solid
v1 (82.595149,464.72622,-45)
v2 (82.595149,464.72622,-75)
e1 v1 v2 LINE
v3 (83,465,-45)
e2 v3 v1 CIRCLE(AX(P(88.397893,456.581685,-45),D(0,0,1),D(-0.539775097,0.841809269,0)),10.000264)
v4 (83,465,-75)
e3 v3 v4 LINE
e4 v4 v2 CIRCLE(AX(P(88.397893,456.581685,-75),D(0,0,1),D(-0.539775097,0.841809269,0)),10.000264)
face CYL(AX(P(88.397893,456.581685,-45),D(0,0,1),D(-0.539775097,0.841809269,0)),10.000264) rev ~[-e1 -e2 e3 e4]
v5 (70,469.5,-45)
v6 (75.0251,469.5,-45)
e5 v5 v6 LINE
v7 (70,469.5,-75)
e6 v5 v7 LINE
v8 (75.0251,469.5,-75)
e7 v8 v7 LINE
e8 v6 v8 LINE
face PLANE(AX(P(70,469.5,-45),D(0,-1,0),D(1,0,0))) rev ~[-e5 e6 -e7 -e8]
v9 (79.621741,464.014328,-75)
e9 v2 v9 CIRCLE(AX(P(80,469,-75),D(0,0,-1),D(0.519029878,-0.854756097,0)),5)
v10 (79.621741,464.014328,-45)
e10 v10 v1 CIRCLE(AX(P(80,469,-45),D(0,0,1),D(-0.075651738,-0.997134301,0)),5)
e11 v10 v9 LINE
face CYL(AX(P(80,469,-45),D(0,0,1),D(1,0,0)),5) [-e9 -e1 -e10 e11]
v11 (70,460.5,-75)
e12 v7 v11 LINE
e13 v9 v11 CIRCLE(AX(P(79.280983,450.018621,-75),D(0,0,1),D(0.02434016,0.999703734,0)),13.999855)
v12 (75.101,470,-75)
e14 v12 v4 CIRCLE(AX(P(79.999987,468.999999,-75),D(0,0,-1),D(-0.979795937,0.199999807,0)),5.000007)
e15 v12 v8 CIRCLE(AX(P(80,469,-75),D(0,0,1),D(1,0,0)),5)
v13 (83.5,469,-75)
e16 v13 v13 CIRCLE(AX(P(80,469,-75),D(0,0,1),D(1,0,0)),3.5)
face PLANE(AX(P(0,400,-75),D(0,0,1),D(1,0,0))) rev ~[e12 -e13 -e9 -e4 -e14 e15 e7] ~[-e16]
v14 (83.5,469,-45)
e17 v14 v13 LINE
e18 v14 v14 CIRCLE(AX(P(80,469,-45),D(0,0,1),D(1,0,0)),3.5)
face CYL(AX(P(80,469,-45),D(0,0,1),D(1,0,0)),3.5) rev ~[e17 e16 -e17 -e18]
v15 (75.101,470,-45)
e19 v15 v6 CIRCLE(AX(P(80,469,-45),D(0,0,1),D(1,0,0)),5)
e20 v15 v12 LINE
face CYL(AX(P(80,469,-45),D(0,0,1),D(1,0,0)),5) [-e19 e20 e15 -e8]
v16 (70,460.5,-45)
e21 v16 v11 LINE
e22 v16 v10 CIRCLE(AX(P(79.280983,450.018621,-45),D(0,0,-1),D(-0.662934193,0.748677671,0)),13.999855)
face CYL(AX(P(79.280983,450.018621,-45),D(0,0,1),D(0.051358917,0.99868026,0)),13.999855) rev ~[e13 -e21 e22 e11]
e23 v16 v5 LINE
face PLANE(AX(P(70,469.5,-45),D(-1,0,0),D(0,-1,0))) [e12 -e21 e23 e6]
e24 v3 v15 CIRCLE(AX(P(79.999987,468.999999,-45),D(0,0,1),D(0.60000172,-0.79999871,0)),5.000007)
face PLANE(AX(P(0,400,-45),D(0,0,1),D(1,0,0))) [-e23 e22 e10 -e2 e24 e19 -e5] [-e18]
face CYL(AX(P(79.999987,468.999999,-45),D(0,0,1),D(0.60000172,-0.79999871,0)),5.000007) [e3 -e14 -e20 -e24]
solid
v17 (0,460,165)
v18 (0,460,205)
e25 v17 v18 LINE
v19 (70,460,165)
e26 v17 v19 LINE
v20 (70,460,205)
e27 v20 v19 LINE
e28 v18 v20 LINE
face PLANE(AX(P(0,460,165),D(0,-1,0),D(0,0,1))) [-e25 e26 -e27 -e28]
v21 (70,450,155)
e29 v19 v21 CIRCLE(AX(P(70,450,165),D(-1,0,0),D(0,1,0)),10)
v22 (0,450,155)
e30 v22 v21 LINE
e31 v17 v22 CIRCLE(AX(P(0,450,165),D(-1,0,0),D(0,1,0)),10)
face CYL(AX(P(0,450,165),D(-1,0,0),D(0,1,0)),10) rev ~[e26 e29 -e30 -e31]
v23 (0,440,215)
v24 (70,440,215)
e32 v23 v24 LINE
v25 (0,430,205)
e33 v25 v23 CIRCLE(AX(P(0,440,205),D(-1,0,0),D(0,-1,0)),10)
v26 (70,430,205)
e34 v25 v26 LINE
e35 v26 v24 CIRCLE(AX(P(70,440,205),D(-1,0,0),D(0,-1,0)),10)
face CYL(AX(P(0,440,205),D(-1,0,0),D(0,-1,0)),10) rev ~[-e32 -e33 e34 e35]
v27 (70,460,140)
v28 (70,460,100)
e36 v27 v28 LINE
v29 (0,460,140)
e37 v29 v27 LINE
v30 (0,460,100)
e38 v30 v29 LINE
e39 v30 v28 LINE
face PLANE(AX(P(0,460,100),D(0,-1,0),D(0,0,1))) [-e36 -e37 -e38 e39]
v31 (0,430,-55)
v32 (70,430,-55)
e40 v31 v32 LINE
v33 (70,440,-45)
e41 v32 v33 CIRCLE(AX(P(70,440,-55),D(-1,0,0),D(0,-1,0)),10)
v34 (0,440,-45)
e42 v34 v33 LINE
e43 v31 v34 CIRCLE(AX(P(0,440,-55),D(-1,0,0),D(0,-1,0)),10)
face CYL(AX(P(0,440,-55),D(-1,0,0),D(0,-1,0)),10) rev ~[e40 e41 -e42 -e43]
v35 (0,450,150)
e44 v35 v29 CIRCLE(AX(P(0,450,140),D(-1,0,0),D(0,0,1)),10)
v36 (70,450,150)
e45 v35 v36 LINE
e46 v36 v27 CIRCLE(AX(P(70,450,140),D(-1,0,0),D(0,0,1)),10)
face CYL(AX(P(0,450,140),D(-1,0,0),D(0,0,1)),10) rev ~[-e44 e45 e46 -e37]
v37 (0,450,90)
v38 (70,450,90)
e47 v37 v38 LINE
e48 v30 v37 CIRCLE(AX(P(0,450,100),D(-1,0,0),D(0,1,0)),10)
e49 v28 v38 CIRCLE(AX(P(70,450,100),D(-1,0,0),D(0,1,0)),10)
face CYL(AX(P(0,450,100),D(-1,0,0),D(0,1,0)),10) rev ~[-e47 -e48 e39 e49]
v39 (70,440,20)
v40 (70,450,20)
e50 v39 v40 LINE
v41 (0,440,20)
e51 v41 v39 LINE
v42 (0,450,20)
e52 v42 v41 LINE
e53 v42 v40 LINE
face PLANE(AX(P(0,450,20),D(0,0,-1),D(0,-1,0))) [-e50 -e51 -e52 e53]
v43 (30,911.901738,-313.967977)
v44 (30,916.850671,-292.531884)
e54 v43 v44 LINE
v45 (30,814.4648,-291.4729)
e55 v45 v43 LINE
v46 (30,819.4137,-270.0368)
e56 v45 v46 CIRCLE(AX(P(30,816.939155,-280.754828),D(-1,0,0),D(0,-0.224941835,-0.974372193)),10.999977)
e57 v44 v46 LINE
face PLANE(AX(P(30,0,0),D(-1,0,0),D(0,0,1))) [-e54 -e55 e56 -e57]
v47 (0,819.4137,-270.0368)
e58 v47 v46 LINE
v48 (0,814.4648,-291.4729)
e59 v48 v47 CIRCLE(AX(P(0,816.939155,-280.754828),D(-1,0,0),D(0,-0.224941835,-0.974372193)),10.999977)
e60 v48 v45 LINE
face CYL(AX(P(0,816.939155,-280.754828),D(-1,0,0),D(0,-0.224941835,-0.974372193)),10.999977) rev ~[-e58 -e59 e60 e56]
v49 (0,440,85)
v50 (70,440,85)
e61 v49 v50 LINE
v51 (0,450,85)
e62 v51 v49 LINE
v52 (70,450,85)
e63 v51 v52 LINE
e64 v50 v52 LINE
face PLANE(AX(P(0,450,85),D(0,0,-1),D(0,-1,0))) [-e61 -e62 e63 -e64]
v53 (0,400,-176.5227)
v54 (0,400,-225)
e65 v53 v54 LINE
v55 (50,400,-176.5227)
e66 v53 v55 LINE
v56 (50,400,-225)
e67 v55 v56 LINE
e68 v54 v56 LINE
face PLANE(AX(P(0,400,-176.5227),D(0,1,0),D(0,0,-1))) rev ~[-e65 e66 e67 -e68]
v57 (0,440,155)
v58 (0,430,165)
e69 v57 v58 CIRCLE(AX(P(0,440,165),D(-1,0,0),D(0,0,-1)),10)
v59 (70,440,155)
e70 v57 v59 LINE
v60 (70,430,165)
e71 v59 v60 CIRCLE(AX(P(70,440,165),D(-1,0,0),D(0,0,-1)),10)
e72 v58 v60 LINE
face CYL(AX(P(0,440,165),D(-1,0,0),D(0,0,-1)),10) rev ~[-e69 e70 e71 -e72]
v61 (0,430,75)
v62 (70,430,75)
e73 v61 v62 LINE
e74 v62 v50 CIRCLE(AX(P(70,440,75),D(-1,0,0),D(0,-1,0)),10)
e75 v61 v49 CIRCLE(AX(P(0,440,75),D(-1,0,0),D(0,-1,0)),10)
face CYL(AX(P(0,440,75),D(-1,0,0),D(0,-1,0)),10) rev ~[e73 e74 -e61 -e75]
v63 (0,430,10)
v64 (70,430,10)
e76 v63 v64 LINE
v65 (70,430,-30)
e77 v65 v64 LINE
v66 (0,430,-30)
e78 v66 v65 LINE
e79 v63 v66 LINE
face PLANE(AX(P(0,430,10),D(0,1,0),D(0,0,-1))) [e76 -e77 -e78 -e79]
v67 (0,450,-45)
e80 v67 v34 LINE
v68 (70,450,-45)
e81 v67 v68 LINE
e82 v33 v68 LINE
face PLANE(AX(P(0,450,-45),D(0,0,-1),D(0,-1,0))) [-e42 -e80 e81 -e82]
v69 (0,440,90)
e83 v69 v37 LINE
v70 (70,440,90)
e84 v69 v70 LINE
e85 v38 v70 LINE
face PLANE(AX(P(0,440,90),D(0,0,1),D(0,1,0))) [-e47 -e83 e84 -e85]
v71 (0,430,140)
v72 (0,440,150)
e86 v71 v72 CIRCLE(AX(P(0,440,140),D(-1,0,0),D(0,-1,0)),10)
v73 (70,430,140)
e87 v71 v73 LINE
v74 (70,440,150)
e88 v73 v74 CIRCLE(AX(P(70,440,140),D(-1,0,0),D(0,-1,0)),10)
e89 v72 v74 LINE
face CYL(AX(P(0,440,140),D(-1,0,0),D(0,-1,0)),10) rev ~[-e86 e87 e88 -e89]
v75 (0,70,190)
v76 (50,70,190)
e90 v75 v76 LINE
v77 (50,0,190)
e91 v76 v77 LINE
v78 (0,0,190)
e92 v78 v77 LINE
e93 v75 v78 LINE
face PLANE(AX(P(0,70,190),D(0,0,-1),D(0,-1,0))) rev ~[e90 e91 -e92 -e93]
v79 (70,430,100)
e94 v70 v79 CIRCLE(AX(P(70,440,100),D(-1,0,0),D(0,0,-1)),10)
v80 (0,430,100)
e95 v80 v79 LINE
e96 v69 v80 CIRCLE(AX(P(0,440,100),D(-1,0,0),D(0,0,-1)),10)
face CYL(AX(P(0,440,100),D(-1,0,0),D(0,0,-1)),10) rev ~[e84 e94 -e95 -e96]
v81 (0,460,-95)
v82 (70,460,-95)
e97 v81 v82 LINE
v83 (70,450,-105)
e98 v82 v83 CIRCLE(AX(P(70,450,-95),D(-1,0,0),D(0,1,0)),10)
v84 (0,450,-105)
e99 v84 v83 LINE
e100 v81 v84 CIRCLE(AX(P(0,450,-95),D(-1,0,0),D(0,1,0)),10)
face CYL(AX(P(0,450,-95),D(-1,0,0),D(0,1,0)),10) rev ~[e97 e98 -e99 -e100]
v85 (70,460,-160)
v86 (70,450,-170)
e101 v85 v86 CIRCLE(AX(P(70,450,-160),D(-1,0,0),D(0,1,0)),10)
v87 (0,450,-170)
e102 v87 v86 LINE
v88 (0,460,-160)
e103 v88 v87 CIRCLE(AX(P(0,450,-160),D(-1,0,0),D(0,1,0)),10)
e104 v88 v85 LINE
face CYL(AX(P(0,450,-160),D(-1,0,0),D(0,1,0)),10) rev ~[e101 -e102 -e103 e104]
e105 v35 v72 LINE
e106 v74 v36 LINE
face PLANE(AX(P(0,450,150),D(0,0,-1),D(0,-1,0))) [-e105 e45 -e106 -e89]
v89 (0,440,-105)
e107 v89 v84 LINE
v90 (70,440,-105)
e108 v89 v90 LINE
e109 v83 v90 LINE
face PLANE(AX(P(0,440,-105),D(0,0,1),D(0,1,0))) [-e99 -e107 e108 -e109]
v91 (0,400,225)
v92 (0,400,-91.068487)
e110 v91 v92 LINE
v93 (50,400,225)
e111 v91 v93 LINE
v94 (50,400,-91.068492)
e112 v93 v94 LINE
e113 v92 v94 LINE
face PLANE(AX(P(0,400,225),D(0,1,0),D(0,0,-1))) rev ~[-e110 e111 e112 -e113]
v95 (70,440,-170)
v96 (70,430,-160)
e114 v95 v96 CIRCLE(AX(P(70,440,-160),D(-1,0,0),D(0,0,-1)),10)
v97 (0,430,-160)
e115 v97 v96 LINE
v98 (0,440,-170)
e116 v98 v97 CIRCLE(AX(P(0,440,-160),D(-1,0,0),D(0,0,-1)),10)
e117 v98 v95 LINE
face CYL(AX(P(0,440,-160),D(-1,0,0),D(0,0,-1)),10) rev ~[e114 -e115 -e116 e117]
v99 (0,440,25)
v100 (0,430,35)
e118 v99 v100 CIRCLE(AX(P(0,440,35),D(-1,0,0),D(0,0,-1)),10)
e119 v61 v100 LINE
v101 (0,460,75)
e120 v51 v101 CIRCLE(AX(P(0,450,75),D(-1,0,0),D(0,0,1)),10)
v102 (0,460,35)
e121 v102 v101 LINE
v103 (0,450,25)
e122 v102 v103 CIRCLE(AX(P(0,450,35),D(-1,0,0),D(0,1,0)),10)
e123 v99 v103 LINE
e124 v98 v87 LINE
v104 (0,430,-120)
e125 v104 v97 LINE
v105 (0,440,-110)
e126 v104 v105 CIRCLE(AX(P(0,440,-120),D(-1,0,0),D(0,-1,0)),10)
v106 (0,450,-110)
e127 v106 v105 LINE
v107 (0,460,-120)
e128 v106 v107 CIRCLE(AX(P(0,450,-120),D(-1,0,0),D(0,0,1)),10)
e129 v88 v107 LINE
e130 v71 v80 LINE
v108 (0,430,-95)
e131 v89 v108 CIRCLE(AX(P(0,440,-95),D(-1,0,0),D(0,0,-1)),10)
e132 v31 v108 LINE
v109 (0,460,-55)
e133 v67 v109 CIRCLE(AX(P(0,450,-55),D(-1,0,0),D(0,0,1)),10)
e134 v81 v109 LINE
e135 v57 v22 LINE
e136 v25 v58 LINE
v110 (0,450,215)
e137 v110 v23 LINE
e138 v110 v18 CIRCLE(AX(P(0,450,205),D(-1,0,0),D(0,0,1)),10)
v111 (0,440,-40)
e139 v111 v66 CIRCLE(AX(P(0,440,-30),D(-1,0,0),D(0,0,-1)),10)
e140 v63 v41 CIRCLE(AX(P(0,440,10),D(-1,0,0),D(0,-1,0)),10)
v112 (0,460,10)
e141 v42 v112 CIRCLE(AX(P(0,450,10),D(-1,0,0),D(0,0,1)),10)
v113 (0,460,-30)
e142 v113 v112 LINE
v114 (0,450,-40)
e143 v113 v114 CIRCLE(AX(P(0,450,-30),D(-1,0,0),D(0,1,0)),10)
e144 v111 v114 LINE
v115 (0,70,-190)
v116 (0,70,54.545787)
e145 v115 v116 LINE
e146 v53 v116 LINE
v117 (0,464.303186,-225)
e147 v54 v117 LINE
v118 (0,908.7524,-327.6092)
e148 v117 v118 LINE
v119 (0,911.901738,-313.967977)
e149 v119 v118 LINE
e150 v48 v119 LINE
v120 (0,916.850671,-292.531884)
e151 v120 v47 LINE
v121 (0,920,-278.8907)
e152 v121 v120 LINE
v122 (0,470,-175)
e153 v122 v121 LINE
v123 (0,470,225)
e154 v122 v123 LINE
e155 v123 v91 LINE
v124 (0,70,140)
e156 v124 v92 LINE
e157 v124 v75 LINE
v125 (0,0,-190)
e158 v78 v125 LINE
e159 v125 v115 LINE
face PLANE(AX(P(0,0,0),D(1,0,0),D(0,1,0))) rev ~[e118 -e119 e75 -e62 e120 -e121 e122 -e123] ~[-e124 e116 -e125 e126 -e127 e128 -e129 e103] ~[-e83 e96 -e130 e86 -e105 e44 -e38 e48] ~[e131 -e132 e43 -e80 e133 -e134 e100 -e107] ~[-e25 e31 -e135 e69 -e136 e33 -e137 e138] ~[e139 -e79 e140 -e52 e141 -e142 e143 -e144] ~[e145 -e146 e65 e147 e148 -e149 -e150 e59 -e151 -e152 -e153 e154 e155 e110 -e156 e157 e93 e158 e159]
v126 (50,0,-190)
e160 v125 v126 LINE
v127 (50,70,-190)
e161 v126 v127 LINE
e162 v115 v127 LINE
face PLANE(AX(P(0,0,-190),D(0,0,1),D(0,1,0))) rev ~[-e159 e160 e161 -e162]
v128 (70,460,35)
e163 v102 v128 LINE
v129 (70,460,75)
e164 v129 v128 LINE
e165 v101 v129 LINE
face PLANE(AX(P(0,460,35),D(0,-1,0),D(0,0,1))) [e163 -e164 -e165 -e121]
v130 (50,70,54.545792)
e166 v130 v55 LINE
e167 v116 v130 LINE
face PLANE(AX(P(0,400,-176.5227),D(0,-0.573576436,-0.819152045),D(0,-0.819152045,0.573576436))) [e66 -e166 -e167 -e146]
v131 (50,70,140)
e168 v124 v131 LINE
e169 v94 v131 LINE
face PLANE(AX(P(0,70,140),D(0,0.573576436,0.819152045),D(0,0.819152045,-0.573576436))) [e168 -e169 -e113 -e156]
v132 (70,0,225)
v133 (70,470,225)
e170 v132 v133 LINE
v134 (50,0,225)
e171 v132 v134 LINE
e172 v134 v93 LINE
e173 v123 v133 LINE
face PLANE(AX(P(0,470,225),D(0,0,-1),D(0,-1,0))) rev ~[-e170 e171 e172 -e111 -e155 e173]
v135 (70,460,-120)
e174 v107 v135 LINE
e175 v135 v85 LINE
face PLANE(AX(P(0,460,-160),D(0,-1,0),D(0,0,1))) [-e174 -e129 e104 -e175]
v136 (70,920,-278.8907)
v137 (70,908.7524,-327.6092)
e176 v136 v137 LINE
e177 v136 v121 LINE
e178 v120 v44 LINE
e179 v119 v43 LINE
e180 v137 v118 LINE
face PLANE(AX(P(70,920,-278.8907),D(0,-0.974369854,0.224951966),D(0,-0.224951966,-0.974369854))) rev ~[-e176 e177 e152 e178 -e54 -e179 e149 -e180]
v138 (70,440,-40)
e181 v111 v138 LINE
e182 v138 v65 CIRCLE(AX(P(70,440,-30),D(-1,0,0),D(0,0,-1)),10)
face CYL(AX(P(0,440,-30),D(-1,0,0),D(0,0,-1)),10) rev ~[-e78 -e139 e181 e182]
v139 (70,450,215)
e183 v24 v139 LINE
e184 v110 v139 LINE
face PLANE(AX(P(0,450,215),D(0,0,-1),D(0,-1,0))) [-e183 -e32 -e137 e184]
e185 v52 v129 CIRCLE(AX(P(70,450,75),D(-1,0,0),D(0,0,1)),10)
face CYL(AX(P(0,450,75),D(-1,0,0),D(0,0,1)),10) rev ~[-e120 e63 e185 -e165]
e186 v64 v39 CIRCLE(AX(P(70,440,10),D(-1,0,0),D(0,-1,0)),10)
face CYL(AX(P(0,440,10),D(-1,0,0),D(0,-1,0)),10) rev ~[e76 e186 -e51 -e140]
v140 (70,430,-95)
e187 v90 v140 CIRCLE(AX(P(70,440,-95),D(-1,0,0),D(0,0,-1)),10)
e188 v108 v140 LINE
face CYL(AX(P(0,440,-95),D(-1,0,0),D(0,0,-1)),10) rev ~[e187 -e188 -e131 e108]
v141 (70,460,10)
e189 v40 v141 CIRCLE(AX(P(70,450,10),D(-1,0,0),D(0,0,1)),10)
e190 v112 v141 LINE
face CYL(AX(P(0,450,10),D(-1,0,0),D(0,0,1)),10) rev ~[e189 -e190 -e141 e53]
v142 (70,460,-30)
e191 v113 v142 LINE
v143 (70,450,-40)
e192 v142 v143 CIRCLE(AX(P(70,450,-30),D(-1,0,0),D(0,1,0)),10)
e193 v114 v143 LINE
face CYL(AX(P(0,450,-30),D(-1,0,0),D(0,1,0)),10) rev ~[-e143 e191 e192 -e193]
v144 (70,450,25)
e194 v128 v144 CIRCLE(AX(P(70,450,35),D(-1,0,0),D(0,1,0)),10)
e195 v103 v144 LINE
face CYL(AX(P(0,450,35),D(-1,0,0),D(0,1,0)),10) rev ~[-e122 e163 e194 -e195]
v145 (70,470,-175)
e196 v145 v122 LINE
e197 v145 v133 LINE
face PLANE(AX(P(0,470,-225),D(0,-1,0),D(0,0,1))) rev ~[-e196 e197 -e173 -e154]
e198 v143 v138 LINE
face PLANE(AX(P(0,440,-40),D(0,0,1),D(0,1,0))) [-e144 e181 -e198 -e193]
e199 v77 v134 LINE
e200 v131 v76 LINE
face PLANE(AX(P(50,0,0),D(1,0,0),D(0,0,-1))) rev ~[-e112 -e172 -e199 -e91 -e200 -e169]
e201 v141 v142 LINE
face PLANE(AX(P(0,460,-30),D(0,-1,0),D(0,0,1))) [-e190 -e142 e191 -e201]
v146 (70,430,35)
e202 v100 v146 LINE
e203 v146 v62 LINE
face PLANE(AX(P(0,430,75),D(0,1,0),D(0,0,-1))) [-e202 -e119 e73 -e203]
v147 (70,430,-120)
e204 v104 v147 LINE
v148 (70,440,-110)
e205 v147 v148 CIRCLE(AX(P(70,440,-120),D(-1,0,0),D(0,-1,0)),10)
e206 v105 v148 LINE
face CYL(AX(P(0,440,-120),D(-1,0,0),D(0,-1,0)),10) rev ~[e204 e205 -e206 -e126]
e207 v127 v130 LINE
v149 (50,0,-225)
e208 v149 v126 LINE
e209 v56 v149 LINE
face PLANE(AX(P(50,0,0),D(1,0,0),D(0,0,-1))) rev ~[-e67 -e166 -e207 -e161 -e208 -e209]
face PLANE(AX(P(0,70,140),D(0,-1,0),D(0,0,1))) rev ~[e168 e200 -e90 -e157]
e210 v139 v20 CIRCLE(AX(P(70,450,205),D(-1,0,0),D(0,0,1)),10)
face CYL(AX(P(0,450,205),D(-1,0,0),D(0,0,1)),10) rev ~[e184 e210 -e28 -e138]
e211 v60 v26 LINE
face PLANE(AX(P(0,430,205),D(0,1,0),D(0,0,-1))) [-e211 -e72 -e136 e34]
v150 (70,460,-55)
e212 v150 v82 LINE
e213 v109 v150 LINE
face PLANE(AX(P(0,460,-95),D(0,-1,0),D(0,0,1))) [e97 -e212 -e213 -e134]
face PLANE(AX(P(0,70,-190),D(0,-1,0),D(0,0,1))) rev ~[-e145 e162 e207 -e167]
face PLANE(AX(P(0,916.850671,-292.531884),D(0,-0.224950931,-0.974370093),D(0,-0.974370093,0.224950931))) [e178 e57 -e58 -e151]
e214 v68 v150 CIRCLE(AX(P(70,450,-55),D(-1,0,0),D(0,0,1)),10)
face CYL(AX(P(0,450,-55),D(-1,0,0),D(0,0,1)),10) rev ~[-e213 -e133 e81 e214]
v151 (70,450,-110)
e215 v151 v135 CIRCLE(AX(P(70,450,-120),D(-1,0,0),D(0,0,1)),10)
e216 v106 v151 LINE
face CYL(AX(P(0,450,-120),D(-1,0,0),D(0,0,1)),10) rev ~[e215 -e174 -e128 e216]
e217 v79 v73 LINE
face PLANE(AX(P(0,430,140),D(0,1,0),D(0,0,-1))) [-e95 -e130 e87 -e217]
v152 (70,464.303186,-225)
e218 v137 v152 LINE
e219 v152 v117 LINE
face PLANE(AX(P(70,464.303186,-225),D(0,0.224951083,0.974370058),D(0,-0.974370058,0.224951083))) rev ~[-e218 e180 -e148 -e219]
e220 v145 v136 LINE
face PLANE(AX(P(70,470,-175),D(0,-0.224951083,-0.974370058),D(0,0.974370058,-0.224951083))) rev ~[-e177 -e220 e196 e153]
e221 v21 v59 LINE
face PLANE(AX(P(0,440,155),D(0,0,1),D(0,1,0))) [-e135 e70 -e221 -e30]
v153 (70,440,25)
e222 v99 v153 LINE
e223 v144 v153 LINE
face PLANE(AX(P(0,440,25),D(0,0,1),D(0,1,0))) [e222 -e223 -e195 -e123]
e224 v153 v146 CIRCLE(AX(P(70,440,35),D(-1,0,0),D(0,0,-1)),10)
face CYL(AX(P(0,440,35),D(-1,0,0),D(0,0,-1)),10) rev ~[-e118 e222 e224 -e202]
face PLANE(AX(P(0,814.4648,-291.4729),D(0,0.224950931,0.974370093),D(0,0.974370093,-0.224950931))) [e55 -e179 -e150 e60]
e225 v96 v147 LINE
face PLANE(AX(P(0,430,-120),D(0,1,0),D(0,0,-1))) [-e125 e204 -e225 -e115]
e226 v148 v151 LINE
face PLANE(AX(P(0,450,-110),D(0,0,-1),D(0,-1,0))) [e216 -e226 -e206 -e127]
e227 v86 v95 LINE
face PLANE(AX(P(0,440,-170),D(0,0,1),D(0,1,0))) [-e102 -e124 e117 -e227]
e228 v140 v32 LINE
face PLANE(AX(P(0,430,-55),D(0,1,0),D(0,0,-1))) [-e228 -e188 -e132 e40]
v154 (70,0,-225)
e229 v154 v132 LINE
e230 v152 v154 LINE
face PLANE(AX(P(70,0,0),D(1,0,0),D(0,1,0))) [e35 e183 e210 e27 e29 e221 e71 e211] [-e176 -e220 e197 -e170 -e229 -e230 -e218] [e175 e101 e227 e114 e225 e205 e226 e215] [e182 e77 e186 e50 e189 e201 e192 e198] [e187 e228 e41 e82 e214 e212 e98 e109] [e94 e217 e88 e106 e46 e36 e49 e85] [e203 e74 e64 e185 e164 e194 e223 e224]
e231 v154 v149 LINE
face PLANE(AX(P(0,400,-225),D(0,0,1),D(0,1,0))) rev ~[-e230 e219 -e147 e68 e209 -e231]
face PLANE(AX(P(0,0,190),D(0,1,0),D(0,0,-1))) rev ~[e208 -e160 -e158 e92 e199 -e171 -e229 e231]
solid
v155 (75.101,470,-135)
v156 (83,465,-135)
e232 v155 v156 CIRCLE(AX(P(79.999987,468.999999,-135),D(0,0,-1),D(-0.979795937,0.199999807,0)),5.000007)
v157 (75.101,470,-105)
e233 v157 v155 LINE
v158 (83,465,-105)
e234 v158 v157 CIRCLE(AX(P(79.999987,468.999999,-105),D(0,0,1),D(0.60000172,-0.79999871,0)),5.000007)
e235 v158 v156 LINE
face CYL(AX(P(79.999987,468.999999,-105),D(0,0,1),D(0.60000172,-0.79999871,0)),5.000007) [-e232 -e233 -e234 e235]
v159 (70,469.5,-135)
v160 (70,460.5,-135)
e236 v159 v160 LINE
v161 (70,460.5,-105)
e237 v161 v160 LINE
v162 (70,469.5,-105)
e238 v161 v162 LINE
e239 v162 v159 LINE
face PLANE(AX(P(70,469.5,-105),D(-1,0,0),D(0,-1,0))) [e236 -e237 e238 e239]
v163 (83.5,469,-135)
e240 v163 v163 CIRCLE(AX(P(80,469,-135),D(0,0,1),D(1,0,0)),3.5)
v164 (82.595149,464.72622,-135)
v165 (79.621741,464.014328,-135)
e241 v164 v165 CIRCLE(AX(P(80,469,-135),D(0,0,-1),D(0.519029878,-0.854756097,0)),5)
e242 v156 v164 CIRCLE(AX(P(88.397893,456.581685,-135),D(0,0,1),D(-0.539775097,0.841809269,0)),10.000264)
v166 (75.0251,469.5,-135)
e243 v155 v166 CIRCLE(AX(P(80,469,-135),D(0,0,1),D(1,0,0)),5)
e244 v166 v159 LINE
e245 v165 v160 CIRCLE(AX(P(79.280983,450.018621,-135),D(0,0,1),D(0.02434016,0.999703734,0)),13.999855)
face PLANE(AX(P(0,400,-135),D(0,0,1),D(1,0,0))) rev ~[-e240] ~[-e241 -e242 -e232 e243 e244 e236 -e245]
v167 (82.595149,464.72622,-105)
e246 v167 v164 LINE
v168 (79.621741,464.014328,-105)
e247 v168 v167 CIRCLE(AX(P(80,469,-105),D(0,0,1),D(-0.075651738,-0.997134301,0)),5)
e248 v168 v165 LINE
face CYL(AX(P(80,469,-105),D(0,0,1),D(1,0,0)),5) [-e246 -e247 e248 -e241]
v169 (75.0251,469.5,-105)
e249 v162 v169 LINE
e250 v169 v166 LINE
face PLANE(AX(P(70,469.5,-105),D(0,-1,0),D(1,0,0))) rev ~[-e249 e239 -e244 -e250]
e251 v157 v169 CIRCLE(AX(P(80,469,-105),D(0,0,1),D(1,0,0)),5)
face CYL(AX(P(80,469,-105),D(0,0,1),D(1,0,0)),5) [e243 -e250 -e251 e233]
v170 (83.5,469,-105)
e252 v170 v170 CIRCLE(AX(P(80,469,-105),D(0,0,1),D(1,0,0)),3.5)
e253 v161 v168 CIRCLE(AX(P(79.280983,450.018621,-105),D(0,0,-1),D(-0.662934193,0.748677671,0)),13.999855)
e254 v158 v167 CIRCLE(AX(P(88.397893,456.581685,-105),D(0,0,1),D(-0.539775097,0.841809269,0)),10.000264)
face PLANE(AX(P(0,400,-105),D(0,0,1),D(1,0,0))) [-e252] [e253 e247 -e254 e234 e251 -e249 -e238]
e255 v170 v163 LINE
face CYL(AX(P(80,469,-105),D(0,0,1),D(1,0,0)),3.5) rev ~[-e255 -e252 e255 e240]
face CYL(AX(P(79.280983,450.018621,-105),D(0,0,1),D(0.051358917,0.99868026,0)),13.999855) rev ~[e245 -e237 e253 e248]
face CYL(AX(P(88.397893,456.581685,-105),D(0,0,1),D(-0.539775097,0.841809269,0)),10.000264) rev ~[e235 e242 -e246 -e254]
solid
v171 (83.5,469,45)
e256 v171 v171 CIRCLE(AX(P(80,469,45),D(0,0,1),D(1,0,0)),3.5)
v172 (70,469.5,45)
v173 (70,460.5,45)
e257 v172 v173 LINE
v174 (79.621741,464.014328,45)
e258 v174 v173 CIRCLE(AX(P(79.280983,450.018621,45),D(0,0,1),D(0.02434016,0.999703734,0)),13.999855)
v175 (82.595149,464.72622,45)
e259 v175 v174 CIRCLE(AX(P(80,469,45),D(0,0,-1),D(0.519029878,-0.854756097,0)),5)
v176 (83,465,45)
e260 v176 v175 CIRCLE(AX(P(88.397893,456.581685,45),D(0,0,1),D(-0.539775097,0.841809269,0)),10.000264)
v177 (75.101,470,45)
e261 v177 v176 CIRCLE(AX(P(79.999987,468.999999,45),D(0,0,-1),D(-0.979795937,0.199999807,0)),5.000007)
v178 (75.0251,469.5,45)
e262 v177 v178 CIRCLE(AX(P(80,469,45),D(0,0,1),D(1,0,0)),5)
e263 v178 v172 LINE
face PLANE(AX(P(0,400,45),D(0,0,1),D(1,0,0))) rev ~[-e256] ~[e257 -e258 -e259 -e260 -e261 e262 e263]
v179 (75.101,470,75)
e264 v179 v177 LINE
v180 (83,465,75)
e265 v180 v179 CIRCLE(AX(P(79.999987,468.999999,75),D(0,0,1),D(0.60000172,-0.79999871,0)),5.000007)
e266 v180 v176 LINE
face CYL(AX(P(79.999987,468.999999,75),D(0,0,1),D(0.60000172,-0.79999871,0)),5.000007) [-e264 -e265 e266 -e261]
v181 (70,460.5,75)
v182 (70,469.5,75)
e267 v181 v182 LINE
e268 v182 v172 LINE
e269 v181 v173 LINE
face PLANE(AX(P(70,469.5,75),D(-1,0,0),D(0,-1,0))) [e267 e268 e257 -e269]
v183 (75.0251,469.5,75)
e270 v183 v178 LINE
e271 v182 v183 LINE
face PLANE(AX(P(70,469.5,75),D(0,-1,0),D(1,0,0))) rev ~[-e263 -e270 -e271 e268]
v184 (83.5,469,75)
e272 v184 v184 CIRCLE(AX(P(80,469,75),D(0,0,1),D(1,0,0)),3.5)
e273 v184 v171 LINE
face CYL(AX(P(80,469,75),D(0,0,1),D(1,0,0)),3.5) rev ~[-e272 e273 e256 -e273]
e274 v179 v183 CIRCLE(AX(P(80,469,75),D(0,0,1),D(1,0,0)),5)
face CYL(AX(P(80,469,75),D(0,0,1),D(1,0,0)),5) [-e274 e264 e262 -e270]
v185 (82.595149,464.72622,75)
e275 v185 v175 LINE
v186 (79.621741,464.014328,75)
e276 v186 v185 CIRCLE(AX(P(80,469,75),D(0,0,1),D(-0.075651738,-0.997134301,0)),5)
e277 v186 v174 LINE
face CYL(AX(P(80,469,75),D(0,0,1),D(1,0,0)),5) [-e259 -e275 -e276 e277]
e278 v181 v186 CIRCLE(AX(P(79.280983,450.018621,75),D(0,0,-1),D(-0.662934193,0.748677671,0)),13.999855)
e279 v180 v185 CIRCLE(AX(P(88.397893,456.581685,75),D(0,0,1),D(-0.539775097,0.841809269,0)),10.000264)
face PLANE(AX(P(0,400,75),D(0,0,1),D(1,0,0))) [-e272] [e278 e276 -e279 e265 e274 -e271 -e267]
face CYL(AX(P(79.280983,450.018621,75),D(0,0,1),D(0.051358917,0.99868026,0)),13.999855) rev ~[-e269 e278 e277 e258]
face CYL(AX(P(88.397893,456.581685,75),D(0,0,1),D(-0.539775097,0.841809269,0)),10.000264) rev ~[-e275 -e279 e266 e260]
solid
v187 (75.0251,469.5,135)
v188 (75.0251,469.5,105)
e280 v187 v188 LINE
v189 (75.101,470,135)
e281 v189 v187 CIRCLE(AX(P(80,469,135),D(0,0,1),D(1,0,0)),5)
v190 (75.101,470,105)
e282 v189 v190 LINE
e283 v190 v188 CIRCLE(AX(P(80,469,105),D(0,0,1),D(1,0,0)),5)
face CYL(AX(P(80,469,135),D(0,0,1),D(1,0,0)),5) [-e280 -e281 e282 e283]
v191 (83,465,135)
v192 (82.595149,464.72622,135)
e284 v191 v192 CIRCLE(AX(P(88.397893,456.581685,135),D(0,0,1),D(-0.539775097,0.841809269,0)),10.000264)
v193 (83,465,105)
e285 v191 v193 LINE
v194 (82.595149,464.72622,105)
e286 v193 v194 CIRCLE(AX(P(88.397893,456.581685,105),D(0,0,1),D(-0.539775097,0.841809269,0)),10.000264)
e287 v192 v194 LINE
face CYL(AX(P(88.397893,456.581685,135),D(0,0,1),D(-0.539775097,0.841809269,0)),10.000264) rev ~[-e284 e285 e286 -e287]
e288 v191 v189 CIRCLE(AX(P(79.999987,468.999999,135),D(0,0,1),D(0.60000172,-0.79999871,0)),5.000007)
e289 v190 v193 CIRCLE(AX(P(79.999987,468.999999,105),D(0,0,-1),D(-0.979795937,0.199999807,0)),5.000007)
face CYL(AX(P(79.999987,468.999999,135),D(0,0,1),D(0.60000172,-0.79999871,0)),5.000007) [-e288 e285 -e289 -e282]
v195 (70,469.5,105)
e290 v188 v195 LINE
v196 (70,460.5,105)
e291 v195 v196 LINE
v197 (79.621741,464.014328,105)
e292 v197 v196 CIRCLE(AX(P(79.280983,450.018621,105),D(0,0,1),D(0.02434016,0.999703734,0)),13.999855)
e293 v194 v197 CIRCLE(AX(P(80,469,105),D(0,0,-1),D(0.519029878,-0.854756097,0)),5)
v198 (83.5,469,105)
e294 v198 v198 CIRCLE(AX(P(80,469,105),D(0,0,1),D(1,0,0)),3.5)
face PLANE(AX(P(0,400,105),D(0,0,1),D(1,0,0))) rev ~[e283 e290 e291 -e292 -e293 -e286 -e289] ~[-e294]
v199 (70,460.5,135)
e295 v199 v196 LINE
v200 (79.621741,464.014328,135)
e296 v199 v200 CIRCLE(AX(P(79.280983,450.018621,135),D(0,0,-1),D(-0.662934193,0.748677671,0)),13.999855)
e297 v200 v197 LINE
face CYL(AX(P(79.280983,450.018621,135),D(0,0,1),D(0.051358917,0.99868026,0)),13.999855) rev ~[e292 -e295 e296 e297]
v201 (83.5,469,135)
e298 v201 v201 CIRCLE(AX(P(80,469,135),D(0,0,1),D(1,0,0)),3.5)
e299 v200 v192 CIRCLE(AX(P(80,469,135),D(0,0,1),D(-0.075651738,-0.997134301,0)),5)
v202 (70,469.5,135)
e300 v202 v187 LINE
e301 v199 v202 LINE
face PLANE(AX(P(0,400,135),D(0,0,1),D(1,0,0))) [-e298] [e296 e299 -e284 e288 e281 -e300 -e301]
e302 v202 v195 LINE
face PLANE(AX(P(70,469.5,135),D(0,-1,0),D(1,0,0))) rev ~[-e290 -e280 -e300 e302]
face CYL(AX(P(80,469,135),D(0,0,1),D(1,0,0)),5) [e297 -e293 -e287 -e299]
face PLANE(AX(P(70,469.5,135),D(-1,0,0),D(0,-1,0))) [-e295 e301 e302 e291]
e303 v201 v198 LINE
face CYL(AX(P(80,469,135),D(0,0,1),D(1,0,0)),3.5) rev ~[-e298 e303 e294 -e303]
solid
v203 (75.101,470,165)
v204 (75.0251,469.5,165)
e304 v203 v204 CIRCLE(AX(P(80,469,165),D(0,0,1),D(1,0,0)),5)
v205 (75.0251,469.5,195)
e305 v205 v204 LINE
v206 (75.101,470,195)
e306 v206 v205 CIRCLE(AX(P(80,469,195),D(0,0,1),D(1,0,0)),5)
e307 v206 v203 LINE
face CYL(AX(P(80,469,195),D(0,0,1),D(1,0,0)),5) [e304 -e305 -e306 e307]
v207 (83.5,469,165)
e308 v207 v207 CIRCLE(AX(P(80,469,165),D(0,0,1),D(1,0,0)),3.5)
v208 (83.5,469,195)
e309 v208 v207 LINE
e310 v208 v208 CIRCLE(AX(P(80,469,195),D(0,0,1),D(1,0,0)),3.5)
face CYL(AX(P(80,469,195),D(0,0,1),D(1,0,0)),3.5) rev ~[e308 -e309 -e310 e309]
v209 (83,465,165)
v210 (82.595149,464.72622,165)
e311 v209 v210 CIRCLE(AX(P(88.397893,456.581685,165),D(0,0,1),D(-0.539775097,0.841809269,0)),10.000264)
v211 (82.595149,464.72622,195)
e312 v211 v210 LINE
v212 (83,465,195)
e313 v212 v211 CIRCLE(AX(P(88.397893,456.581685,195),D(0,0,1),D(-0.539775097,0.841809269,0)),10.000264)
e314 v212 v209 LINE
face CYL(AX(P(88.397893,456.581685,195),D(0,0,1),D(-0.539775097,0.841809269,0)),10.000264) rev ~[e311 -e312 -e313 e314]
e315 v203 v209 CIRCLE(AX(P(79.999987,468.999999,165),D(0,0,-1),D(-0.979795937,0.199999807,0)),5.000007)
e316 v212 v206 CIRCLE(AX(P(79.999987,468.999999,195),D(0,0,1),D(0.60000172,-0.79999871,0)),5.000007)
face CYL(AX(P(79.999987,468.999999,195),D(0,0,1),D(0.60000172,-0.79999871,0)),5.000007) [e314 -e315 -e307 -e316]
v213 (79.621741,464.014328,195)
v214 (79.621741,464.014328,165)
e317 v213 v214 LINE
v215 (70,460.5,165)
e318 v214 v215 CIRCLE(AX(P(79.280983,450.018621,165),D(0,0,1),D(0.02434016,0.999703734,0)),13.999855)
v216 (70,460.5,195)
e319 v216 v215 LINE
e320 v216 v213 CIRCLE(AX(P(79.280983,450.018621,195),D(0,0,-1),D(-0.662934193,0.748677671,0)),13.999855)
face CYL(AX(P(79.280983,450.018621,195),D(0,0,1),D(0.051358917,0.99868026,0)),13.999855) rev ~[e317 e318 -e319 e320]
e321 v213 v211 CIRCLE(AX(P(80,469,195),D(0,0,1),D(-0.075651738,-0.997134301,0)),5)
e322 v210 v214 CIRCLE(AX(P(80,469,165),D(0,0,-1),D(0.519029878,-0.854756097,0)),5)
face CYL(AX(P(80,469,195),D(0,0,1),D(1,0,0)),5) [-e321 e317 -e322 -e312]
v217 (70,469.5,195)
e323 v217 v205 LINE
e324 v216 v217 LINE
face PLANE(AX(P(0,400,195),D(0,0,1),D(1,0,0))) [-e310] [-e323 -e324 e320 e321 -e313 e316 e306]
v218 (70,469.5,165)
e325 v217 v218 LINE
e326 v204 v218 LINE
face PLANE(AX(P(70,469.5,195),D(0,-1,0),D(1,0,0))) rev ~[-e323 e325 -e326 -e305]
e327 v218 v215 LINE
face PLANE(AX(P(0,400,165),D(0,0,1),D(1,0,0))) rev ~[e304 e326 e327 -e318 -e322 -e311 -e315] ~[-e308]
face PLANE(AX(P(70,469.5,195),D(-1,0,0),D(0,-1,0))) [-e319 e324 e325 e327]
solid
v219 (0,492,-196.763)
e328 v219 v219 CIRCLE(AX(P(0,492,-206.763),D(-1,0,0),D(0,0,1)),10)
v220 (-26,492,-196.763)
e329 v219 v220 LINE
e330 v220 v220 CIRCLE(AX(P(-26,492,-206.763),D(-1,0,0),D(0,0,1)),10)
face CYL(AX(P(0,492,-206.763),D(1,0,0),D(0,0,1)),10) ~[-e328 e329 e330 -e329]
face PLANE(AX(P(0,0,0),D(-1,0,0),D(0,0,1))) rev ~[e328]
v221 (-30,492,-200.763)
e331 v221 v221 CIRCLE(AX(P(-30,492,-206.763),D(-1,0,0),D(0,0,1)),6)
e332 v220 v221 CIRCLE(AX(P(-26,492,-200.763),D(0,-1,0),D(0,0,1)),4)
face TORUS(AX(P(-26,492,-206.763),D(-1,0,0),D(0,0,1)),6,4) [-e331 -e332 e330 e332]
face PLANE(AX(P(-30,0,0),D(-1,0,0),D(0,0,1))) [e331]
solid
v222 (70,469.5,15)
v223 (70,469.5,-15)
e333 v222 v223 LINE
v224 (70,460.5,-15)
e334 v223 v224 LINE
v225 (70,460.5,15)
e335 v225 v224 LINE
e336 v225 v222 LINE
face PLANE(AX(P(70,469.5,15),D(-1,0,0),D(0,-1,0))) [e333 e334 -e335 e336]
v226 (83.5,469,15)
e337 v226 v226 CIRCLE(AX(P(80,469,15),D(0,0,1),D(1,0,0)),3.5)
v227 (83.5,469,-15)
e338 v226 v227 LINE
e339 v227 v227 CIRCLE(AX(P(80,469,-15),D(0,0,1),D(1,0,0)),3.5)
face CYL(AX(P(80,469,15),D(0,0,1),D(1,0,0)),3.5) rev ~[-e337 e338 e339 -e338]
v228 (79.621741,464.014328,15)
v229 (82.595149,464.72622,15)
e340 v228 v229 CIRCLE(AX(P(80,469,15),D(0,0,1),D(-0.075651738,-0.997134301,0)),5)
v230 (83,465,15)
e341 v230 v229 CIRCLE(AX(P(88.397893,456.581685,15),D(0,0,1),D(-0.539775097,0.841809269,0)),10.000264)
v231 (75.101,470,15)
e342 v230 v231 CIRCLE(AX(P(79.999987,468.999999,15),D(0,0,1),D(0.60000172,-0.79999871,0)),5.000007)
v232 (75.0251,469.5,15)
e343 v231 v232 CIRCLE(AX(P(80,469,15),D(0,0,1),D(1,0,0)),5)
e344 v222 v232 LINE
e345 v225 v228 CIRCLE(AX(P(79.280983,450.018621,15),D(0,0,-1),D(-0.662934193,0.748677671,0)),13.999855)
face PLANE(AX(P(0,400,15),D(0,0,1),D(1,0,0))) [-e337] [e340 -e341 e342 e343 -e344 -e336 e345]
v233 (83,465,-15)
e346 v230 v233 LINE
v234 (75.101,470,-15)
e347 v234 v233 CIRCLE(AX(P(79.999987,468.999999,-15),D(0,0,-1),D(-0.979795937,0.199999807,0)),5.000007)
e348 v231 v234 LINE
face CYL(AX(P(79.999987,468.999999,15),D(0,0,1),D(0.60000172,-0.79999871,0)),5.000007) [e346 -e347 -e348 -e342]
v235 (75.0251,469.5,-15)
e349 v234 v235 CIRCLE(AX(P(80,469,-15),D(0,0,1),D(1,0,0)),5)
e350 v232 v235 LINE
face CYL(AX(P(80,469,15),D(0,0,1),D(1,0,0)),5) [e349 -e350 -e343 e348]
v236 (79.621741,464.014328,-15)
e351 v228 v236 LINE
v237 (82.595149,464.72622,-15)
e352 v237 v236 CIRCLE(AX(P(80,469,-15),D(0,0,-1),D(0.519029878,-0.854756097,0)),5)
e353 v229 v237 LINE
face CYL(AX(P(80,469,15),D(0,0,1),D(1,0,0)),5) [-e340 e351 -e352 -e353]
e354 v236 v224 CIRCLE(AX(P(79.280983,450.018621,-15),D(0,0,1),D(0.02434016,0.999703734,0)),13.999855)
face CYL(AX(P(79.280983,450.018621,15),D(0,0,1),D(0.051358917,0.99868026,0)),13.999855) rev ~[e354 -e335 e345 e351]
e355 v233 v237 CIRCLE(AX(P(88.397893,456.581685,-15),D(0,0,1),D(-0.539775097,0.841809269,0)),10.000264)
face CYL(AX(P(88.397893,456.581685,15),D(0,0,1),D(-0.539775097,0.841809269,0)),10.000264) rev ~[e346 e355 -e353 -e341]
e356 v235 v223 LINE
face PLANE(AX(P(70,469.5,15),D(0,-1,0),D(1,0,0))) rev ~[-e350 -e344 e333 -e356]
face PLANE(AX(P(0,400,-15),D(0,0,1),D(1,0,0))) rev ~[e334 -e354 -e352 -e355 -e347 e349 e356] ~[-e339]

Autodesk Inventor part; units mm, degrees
ref_plane "YZ Plane" through (0, 0, 0) normal (1, 0, 0) x (0, 1, 0)
ref_plane "XZ Plane" through (0, 0, 0) normal (0, 1, 0) x (-1, 0, 0)
ref_plane "XY Plane" through (0, 0, 0) normal (0, 0, 1) x (1, 0, 0)
sketch "Sketch1" plane through (0, 0, 0) normal (1, 0, 0) x (0, 1, 0)
  line L0 (70, 190) -> (0, 190)
  line L1 (0, 190) -> (0, -190)
  line L2 (0, -190) -> (70, -190)
  line L3 (70, -190) -> (70, 190)
  line L4 (29.8496, 82.6594) -> (70, 140)
  line L5 (70, 140) -> (440.1504, -119.1821)
  line L6 (440.1504, -119.1821) -> (400, -176.5227)
  line L7 (400, -176.5227) -> (29.8496, 82.6594)
  line L8 (29.8496, 82.6594) -> (440.1504, -119.1821) construction
  line L9 (70, 140) -> (400, -176.5227) construction
  line L10 (470, 225) -> (400, 225)
  line L11 (400, 225) -> (400, -225)
  line L12 (400, -225) -> (470, -225)
  line L13 (470, -225) -> (470, 225)
  point P0 (0, 0)
  point P1 (35, 190)
  point P2 (435, -225)
  point P3 (400, -91.0685)
  point P4 (70, 54.5458)
  dimension "d0" = 380
  dimension "d1" = 70
  dimension "d2" = 190
  dimension "d3" = 70
  dimension "d4" = 50
  dimension "d5" = 400
  dimension "d6" = 55
  dimension "d7" = -13.4773
  dimension "d8" = 70
  dimension "d9" = 450
  dimension "d10" = 35
  dimension "d11" = 35
extrude "Extrusion1" add sketch "Sketch1" along normal blind 70
sketch "Sketch2" plane through (0, 0, 0) normal (-1, 0, 0) x (0, 0, 1)
  line L0 (165, 460) -> (205, 460)
  line L1 (215, 450) -> (215, 440)
  line L2 (205, 430) -> (165, 430)
  line L3 (155, 440) -> (155, 450)
  line L4 (-225, 470) -> (225, 470) projected
  line L5 (225, 470) -> (225, 400) projected
  arc A0 (165, 460) -> (155, 450) centre (165, 450) ccw
  arc A1 (215, 450) -> (205, 460) centre (205, 450) ccw
  arc A2 (205, 430) -> (215, 440) centre (205, 440) ccw
  arc A3 (155, 440) -> (165, 430) centre (165, 440) ccw
  line L6 (100, 460) -> (140, 460)
  line L7 (150, 450) -> (150, 440)
  line L8 (140, 430) -> (100, 430)
  line L9 (90, 440) -> (90, 450)
  arc A4 (100, 460) -> (90, 450) centre (100, 450) ccw
  arc A5 (150, 450) -> (140, 460) centre (140, 450) ccw
  arc A6 (140, 430) -> (150, 440) centre (140, 440) ccw
  arc A7 (90, 440) -> (100, 430) centre (100, 440) ccw
  line L10 (35, 460) -> (75, 460)
  line L11 (85, 450) -> (85, 440)
  line L12 (75, 430) -> (35, 430)
  line L13 (25, 440) -> (25, 450)
  arc A8 (35, 460) -> (25, 450) centre (35, 450) ccw
  arc A9 (85, 450) -> (75, 460) centre (75, 450) ccw
  arc A10 (75, 430) -> (85, 440) centre (75, 440) ccw
  arc A11 (25, 440) -> (35, 430) centre (35, 440) ccw
  line L14 (-30, 460) -> (10, 460)
  line L15 (20, 450) -> (20, 440)
  line L16 (10, 430) -> (-30, 430)
  line L17 (-40, 440) -> (-40, 450)
  arc A12 (-30, 460) -> (-40, 450) centre (-30, 450) ccw
  arc A13 (20, 450) -> (10, 460) centre (10, 450) ccw
  arc A14 (10, 430) -> (20, 440) centre (10, 440) ccw
  arc A15 (-40, 440) -> (-30, 430) centre (-30, 440) ccw
  line L18 (-95, 460) -> (-55, 460)
  line L19 (-45, 450) -> (-45, 440)
  line L20 (-55, 430) -> (-95, 430)
  line L21 (-105, 440) -> (-105, 450)
  arc A16 (-95, 460) -> (-105, 450) centre (-95, 450) ccw
  arc A17 (-45, 450) -> (-55, 460) centre (-55, 450) ccw
  arc A18 (-55, 430) -> (-45, 440) centre (-55, 440) ccw
  arc A19 (-105, 440) -> (-95, 430) centre (-95, 440) ccw
  line L22 (-160, 460) -> (-120, 460)
  line L23 (-110, 450) -> (-110, 440)
  line L24 (-120, 430) -> (-160, 430)
  line L25 (-170, 440) -> (-170, 450)
  arc A20 (-160, 460) -> (-170, 450) centre (-160, 450) ccw
  arc A21 (-110, 450) -> (-120, 460) centre (-120, 450) ccw
  arc A22 (-120, 430) -> (-110, 440) centre (-120, 440) ccw
  arc A23 (-170, 440) -> (-160, 430) centre (-160, 440) ccw
  point P0 (0, 0)
  dimension "d14" = 60
  dimension "d15" = 30
  dimension "d16" = 10
  dimension "d17" = 10
  dimension "d18" = 10
  dimension "d21" = 65
extrude "Extrusion2" cut sketch "Sketch2" against normal through all
sketch "Sketch3" plane through (70, 0, 0) normal (1, 0, 0) x (0, 0, -1)
  line L0 (223.7185, 458.7524) -> (175, 470)
  line L1 (175, 470) -> (278.8907, 920)
  line L2 (278.8907, 920) -> (327.6092, 908.7524)
  line L3 (327.6092, 908.7524) -> (223.7185, 458.7524)
  line L4 (225, 470) -> (-225, 470) projected
  line L5 (225, 400) -> (225, 470) projected
  line L6 (-225, 470) -> (-225, 400) projected
  point P0 (0, 0)
  point P1 (-225, 435)
  point P2 (225, 435)
  dimension "d28" = 103
  dimension "d29" = 50
  dimension "d30" = 50
  dimension "d31" = 450
  dimension "d32" = 450
extrude "Extrusion3" add sketch "Sketch3" against normal up to surface (70 mm away)
sketch "Sketch4" plane through (70, 0, 0) normal (1, 0, 0) x (0, 0, -1)
  line L0 (175, 470) -> (-225, 470) projected
  line L1 (-225, 470) -> (-225, 400) projected
  line L2 (-225, 400) -> (91.0685, 400) projected
  line L3 (91.0685, 400) -> (-140, 70) projected
  line L4 (-140, 70) -> (-190, 70) projected
  line L5 (-190, 70) -> (-190, 0) projected
  line L6 (-190, 0) -> (190, 0) projected
  line L7 (190, 0) -> (190, 70) projected
  line L8 (190, 70) -> (-54.5458, 70) projected
  line L9 (-54.5458, 70) -> (176.5227, 400) projected
  line L10 (176.5227, 400) -> (225, 400) projected
  line L11 (225, 400) -> (225, 464.3032) projected
  line L12 (225, 464.3032) -> (327.6092, 908.7524) projected
  line L13 (327.6092, 908.7524) -> (278.8907, 920) projected
  line L14 (278.8907, 920) -> (175, 470) projected
  arc A0 (-20, 440) -> (-10, 430) centre (-10, 440) ccw projected
  line L15 (-20, 440) -> (-20, 450) projected
  arc A1 (-10, 460) -> (-20, 450) centre (-10, 450) ccw projected
  line L16 (-10, 460) -> (30, 460) projected
  arc A2 (40, 450) -> (30, 460) centre (30, 450) ccw projected
  line L17 (40, 450) -> (40, 440) projected
  arc A3 (30, 430) -> (40, 440) centre (30, 440) ccw projected
  line L18 (30, 430) -> (-10, 430) projected
  arc A4 (-215, 440) -> (-205, 430) centre (-205, 440) ccw projected
  line L19 (-215, 440) -> (-215, 450) projected
  arc A5 (-205, 460) -> (-215, 450) centre (-205, 450) ccw projected
  line L20 (-205, 460) -> (-165, 460) projected
  arc A6 (-155, 450) -> (-165, 460) centre (-165, 450) ccw projected
  line L21 (-155, 450) -> (-155, 440) projected
  arc A7 (-165, 430) -> (-155, 440) centre (-165, 440) ccw projected
  line L22 (-165, 430) -> (-205, 430) projected
  arc A8 (45, 440) -> (55, 430) centre (55, 440) ccw projected
  line L23 (45, 440) -> (45, 450) projected
  arc A9 (55, 460) -> (45, 450) centre (55, 450) ccw projected
  line L24 (55, 460) -> (95, 460) projected
  arc A10 (105, 450) -> (95, 460) centre (95, 450) ccw projected
  line L25 (105, 450) -> (105, 440) projected
  arc A11 (95, 430) -> (105, 440) centre (95, 440) ccw projected
  line L26 (95, 430) -> (55, 430) projected
  arc A12 (-85, 440) -> (-75, 430) centre (-75, 440) ccw projected
  line L27 (-85, 440) -> (-85, 450) projected
  arc A13 (-75, 460) -> (-85, 450) centre (-75, 450) ccw projected
  line L28 (-75, 460) -> (-35, 460) projected
  arc A14 (-25, 450) -> (-35, 460) centre (-35, 450) ccw projected
  line L29 (-25, 450) -> (-25, 440) projected
  arc A15 (-35, 430) -> (-25, 440) centre (-35, 440) ccw projected
  line L30 (-35, 430) -> (-75, 430) projected
  arc A16 (-150, 440) -> (-140, 430) centre (-140, 440) ccw projected
  line L31 (-150, 440) -> (-150, 450) projected
  arc A17 (-140, 460) -> (-150, 450) centre (-140, 450) ccw projected
  line L32 (-140, 460) -> (-100, 460) projected
  arc A18 (-90, 450) -> (-100, 460) centre (-100, 450) ccw projected
  line L33 (-90, 450) -> (-90, 440) projected
  arc A19 (-100, 430) -> (-90, 440) centre (-100, 440) ccw projected
  line L34 (-100, 430) -> (-140, 430) projected
  arc A20 (110, 440) -> (120, 430) centre (120, 440) ccw projected
  line L35 (110, 440) -> (110, 450) projected
  arc A21 (120, 460) -> (110, 450) centre (120, 450) ccw projected
  line L36 (120, 460) -> (160, 460) projected
  arc A22 (170, 450) -> (160, 460) centre (160, 450) ccw projected
  line L37 (170, 450) -> (170, 440) projected
  arc A23 (160, 430) -> (170, 440) centre (160, 440) ccw projected
  line L38 (160, 430) -> (120, 430) projected
  line L39 (-225, 400) -> (91.0685, 400) projected
  line L40 (-225, 400) -> (225, 400)
  line L41 (225, 400) -> (225, 0)
  line L42 (225, 0) -> (-225, 0)
  line L43 (-225, 0) -> (-225, 400)
  point P0 (0, 0)
  point P1 (190, 0)
extrude "Extrusion4" add sketch "Sketch4" against normal blind 20 contours L2 L3 L4 L5 L42 L43 | L10 L41 L42 L7 L8 L9
ref_plane "Work Plane1" through (0, 400, 195) normal (0, 0, 1) x (1, 0, 0)
sketch "Sketch6" plane through (0, 400, 195) normal (0, 0, 1) x (1, 0, 0)
  line L0 (70, 70) -> (70, -400) projected
  line L1 (79, 64) -> (79, 60) projected
  arc A0 (83, 65) -> (79, 60) centre (88.3977, 56.5819) ccw projected
  arc A1 (83, 65) -> (79, 60) centre (88.3977, 56.5819) ccw projected
  line L2 (70, -400) -> (70, 64.3032) projected
  line L3 (70, 64.3032) -> (70, 508.7524) projected
  line L4 (70.101, 64) -> (79, 64) projected
  arc A2 (70.101, 64) -> (75.101, 70) centre (65.5288, 72.8935) ccw projected
  arc A3 (83, 65) -> (75.101, 70) centre (80, 69) ccw projected
  arc A4 (83, 65) -> (79, 60) centre (88.3977, 56.5819) ccw projected
  line L5 (79, 64) -> (79, 60) projected
  circle A5 centre (80, 69) radius 3.5 projected
  arc A6 (80, 64) -> (70, 60.5) centre (79.281, 50.0185) ccw
  line L6 (79, 64) -> (79, 34) projected
  circle A7 centre (80, 69) radius 5
  line L7 (70, 69.5) -> (75.0251, 69.5)
  point P0 (0, -400)
  point P1 (82.5951, 64.7262)
  point P2 (83, 65)
  point P3 (85, 69)
  point P4 (70, 69.5)
  point P5 (70, 60.5)
  point P6 (77.4412, 63.8971)
  point P7 (79.6218, 64.0143)
  point P8 (77, 65)
  point P9 (75.069, 69.8276)
  point P10 (75.101, 70)
  point P11 (77.0437, 63.8385)
  point P12 (78.9215, 64.0139)
  point P13 (76.8404, 64.3811)
  point P14 (70, 65.5882)
  point P15 (83, 65)
  point P16 (82.5951, 64.7262)
  point P17 (83, 65)
  point P18 (82.5951, 64.7262)
  point P19 (60.176, 67.3219)
  point P20 (70, 50.8991)
  dimension "d40" = 0.5
  dimension "d41" = 9
  dimension "d42" = 14
  dimension "d43" = 8.5
extrude "Extrusion5" add sketch "Sketch6" against normal blind 30 separate body contours L7 A2 L4 A6 L0 | L7 A7 A6 L4 A2 | A3 A0 A7 A6 | A6 A7
pattern_linear "Rectangular Pattern1" count 6 spacing 60 along (0, 0, -1) bodies 2
sketch "Sketch7" plane through (0, 0, 0) normal (-1, 0, 0) x (0, 0, 1)
  circle A0 centre (-206.763, 492) radius 10
  line L0 (-327.6092, 908.7524) -> (-225, 464.3032) projected
  line L1 (-175, 470) -> (225, 470) projected
  point P0 (0, 0)
  dimension "d49" = 20
  dimension "d50" = 24
  dimension "d51" = 22
extrude "Extrusion6" add sketch "Sketch7" along normal blind 30 separate body
fillet "Fillet1" radius 4 1 edges at (-30, 492, -216.763)
sketch "Sketch8" plane through (0, 0, 0) normal (-1, 0, 0) x (0, 0, 1)
  line L0 (-305.4994, 924.1199) -> (-280.7548, 816.9392) construction
  line L1 (-327.6092, 908.7524) -> (-278.8907, 920) projected
  line L2 (-294.7814, 926.5944) -> (-270.0368, 819.4137)
  line L3 (-291.4729, 814.4648) -> (-316.2175, 921.6455)
  arc A0 (-294.7814, 926.5944) -> (-316.2175, 921.6455) centre (-305.4994, 924.1199) ccw
  arc A1 (-291.4729, 814.4648) -> (-270.0368, 819.4137) centre (-280.7548, 816.9392) ccw
  line L4 (-327.6092, 908.7524) -> (-225, 464.3032) projected
  line L5 (-175, 470) -> (-278.8907, 920) projected
  point P0 (0, 0)
  point P1 (-293.1271, 870.5296)
  point P2 (-292.5319, 916.8507)
  point P3 (-313.968, 911.9018)
  dimension "d55" = 22
  dimension "d56" = 14
  dimension "d57" = 14
  dimension "d58" = 100
  dimension "d59" = 10
extrude "Extrusion7" cut sketch "Sketch8" against normal blind 30 contours L1 L2 A1 L3 bodies 1
equation "\"d2\" = 0.5 * d0"
equation "\"d10\" = -0.5 * d0 + 0.5 * d9"
properties part number "bench-end-peice"
